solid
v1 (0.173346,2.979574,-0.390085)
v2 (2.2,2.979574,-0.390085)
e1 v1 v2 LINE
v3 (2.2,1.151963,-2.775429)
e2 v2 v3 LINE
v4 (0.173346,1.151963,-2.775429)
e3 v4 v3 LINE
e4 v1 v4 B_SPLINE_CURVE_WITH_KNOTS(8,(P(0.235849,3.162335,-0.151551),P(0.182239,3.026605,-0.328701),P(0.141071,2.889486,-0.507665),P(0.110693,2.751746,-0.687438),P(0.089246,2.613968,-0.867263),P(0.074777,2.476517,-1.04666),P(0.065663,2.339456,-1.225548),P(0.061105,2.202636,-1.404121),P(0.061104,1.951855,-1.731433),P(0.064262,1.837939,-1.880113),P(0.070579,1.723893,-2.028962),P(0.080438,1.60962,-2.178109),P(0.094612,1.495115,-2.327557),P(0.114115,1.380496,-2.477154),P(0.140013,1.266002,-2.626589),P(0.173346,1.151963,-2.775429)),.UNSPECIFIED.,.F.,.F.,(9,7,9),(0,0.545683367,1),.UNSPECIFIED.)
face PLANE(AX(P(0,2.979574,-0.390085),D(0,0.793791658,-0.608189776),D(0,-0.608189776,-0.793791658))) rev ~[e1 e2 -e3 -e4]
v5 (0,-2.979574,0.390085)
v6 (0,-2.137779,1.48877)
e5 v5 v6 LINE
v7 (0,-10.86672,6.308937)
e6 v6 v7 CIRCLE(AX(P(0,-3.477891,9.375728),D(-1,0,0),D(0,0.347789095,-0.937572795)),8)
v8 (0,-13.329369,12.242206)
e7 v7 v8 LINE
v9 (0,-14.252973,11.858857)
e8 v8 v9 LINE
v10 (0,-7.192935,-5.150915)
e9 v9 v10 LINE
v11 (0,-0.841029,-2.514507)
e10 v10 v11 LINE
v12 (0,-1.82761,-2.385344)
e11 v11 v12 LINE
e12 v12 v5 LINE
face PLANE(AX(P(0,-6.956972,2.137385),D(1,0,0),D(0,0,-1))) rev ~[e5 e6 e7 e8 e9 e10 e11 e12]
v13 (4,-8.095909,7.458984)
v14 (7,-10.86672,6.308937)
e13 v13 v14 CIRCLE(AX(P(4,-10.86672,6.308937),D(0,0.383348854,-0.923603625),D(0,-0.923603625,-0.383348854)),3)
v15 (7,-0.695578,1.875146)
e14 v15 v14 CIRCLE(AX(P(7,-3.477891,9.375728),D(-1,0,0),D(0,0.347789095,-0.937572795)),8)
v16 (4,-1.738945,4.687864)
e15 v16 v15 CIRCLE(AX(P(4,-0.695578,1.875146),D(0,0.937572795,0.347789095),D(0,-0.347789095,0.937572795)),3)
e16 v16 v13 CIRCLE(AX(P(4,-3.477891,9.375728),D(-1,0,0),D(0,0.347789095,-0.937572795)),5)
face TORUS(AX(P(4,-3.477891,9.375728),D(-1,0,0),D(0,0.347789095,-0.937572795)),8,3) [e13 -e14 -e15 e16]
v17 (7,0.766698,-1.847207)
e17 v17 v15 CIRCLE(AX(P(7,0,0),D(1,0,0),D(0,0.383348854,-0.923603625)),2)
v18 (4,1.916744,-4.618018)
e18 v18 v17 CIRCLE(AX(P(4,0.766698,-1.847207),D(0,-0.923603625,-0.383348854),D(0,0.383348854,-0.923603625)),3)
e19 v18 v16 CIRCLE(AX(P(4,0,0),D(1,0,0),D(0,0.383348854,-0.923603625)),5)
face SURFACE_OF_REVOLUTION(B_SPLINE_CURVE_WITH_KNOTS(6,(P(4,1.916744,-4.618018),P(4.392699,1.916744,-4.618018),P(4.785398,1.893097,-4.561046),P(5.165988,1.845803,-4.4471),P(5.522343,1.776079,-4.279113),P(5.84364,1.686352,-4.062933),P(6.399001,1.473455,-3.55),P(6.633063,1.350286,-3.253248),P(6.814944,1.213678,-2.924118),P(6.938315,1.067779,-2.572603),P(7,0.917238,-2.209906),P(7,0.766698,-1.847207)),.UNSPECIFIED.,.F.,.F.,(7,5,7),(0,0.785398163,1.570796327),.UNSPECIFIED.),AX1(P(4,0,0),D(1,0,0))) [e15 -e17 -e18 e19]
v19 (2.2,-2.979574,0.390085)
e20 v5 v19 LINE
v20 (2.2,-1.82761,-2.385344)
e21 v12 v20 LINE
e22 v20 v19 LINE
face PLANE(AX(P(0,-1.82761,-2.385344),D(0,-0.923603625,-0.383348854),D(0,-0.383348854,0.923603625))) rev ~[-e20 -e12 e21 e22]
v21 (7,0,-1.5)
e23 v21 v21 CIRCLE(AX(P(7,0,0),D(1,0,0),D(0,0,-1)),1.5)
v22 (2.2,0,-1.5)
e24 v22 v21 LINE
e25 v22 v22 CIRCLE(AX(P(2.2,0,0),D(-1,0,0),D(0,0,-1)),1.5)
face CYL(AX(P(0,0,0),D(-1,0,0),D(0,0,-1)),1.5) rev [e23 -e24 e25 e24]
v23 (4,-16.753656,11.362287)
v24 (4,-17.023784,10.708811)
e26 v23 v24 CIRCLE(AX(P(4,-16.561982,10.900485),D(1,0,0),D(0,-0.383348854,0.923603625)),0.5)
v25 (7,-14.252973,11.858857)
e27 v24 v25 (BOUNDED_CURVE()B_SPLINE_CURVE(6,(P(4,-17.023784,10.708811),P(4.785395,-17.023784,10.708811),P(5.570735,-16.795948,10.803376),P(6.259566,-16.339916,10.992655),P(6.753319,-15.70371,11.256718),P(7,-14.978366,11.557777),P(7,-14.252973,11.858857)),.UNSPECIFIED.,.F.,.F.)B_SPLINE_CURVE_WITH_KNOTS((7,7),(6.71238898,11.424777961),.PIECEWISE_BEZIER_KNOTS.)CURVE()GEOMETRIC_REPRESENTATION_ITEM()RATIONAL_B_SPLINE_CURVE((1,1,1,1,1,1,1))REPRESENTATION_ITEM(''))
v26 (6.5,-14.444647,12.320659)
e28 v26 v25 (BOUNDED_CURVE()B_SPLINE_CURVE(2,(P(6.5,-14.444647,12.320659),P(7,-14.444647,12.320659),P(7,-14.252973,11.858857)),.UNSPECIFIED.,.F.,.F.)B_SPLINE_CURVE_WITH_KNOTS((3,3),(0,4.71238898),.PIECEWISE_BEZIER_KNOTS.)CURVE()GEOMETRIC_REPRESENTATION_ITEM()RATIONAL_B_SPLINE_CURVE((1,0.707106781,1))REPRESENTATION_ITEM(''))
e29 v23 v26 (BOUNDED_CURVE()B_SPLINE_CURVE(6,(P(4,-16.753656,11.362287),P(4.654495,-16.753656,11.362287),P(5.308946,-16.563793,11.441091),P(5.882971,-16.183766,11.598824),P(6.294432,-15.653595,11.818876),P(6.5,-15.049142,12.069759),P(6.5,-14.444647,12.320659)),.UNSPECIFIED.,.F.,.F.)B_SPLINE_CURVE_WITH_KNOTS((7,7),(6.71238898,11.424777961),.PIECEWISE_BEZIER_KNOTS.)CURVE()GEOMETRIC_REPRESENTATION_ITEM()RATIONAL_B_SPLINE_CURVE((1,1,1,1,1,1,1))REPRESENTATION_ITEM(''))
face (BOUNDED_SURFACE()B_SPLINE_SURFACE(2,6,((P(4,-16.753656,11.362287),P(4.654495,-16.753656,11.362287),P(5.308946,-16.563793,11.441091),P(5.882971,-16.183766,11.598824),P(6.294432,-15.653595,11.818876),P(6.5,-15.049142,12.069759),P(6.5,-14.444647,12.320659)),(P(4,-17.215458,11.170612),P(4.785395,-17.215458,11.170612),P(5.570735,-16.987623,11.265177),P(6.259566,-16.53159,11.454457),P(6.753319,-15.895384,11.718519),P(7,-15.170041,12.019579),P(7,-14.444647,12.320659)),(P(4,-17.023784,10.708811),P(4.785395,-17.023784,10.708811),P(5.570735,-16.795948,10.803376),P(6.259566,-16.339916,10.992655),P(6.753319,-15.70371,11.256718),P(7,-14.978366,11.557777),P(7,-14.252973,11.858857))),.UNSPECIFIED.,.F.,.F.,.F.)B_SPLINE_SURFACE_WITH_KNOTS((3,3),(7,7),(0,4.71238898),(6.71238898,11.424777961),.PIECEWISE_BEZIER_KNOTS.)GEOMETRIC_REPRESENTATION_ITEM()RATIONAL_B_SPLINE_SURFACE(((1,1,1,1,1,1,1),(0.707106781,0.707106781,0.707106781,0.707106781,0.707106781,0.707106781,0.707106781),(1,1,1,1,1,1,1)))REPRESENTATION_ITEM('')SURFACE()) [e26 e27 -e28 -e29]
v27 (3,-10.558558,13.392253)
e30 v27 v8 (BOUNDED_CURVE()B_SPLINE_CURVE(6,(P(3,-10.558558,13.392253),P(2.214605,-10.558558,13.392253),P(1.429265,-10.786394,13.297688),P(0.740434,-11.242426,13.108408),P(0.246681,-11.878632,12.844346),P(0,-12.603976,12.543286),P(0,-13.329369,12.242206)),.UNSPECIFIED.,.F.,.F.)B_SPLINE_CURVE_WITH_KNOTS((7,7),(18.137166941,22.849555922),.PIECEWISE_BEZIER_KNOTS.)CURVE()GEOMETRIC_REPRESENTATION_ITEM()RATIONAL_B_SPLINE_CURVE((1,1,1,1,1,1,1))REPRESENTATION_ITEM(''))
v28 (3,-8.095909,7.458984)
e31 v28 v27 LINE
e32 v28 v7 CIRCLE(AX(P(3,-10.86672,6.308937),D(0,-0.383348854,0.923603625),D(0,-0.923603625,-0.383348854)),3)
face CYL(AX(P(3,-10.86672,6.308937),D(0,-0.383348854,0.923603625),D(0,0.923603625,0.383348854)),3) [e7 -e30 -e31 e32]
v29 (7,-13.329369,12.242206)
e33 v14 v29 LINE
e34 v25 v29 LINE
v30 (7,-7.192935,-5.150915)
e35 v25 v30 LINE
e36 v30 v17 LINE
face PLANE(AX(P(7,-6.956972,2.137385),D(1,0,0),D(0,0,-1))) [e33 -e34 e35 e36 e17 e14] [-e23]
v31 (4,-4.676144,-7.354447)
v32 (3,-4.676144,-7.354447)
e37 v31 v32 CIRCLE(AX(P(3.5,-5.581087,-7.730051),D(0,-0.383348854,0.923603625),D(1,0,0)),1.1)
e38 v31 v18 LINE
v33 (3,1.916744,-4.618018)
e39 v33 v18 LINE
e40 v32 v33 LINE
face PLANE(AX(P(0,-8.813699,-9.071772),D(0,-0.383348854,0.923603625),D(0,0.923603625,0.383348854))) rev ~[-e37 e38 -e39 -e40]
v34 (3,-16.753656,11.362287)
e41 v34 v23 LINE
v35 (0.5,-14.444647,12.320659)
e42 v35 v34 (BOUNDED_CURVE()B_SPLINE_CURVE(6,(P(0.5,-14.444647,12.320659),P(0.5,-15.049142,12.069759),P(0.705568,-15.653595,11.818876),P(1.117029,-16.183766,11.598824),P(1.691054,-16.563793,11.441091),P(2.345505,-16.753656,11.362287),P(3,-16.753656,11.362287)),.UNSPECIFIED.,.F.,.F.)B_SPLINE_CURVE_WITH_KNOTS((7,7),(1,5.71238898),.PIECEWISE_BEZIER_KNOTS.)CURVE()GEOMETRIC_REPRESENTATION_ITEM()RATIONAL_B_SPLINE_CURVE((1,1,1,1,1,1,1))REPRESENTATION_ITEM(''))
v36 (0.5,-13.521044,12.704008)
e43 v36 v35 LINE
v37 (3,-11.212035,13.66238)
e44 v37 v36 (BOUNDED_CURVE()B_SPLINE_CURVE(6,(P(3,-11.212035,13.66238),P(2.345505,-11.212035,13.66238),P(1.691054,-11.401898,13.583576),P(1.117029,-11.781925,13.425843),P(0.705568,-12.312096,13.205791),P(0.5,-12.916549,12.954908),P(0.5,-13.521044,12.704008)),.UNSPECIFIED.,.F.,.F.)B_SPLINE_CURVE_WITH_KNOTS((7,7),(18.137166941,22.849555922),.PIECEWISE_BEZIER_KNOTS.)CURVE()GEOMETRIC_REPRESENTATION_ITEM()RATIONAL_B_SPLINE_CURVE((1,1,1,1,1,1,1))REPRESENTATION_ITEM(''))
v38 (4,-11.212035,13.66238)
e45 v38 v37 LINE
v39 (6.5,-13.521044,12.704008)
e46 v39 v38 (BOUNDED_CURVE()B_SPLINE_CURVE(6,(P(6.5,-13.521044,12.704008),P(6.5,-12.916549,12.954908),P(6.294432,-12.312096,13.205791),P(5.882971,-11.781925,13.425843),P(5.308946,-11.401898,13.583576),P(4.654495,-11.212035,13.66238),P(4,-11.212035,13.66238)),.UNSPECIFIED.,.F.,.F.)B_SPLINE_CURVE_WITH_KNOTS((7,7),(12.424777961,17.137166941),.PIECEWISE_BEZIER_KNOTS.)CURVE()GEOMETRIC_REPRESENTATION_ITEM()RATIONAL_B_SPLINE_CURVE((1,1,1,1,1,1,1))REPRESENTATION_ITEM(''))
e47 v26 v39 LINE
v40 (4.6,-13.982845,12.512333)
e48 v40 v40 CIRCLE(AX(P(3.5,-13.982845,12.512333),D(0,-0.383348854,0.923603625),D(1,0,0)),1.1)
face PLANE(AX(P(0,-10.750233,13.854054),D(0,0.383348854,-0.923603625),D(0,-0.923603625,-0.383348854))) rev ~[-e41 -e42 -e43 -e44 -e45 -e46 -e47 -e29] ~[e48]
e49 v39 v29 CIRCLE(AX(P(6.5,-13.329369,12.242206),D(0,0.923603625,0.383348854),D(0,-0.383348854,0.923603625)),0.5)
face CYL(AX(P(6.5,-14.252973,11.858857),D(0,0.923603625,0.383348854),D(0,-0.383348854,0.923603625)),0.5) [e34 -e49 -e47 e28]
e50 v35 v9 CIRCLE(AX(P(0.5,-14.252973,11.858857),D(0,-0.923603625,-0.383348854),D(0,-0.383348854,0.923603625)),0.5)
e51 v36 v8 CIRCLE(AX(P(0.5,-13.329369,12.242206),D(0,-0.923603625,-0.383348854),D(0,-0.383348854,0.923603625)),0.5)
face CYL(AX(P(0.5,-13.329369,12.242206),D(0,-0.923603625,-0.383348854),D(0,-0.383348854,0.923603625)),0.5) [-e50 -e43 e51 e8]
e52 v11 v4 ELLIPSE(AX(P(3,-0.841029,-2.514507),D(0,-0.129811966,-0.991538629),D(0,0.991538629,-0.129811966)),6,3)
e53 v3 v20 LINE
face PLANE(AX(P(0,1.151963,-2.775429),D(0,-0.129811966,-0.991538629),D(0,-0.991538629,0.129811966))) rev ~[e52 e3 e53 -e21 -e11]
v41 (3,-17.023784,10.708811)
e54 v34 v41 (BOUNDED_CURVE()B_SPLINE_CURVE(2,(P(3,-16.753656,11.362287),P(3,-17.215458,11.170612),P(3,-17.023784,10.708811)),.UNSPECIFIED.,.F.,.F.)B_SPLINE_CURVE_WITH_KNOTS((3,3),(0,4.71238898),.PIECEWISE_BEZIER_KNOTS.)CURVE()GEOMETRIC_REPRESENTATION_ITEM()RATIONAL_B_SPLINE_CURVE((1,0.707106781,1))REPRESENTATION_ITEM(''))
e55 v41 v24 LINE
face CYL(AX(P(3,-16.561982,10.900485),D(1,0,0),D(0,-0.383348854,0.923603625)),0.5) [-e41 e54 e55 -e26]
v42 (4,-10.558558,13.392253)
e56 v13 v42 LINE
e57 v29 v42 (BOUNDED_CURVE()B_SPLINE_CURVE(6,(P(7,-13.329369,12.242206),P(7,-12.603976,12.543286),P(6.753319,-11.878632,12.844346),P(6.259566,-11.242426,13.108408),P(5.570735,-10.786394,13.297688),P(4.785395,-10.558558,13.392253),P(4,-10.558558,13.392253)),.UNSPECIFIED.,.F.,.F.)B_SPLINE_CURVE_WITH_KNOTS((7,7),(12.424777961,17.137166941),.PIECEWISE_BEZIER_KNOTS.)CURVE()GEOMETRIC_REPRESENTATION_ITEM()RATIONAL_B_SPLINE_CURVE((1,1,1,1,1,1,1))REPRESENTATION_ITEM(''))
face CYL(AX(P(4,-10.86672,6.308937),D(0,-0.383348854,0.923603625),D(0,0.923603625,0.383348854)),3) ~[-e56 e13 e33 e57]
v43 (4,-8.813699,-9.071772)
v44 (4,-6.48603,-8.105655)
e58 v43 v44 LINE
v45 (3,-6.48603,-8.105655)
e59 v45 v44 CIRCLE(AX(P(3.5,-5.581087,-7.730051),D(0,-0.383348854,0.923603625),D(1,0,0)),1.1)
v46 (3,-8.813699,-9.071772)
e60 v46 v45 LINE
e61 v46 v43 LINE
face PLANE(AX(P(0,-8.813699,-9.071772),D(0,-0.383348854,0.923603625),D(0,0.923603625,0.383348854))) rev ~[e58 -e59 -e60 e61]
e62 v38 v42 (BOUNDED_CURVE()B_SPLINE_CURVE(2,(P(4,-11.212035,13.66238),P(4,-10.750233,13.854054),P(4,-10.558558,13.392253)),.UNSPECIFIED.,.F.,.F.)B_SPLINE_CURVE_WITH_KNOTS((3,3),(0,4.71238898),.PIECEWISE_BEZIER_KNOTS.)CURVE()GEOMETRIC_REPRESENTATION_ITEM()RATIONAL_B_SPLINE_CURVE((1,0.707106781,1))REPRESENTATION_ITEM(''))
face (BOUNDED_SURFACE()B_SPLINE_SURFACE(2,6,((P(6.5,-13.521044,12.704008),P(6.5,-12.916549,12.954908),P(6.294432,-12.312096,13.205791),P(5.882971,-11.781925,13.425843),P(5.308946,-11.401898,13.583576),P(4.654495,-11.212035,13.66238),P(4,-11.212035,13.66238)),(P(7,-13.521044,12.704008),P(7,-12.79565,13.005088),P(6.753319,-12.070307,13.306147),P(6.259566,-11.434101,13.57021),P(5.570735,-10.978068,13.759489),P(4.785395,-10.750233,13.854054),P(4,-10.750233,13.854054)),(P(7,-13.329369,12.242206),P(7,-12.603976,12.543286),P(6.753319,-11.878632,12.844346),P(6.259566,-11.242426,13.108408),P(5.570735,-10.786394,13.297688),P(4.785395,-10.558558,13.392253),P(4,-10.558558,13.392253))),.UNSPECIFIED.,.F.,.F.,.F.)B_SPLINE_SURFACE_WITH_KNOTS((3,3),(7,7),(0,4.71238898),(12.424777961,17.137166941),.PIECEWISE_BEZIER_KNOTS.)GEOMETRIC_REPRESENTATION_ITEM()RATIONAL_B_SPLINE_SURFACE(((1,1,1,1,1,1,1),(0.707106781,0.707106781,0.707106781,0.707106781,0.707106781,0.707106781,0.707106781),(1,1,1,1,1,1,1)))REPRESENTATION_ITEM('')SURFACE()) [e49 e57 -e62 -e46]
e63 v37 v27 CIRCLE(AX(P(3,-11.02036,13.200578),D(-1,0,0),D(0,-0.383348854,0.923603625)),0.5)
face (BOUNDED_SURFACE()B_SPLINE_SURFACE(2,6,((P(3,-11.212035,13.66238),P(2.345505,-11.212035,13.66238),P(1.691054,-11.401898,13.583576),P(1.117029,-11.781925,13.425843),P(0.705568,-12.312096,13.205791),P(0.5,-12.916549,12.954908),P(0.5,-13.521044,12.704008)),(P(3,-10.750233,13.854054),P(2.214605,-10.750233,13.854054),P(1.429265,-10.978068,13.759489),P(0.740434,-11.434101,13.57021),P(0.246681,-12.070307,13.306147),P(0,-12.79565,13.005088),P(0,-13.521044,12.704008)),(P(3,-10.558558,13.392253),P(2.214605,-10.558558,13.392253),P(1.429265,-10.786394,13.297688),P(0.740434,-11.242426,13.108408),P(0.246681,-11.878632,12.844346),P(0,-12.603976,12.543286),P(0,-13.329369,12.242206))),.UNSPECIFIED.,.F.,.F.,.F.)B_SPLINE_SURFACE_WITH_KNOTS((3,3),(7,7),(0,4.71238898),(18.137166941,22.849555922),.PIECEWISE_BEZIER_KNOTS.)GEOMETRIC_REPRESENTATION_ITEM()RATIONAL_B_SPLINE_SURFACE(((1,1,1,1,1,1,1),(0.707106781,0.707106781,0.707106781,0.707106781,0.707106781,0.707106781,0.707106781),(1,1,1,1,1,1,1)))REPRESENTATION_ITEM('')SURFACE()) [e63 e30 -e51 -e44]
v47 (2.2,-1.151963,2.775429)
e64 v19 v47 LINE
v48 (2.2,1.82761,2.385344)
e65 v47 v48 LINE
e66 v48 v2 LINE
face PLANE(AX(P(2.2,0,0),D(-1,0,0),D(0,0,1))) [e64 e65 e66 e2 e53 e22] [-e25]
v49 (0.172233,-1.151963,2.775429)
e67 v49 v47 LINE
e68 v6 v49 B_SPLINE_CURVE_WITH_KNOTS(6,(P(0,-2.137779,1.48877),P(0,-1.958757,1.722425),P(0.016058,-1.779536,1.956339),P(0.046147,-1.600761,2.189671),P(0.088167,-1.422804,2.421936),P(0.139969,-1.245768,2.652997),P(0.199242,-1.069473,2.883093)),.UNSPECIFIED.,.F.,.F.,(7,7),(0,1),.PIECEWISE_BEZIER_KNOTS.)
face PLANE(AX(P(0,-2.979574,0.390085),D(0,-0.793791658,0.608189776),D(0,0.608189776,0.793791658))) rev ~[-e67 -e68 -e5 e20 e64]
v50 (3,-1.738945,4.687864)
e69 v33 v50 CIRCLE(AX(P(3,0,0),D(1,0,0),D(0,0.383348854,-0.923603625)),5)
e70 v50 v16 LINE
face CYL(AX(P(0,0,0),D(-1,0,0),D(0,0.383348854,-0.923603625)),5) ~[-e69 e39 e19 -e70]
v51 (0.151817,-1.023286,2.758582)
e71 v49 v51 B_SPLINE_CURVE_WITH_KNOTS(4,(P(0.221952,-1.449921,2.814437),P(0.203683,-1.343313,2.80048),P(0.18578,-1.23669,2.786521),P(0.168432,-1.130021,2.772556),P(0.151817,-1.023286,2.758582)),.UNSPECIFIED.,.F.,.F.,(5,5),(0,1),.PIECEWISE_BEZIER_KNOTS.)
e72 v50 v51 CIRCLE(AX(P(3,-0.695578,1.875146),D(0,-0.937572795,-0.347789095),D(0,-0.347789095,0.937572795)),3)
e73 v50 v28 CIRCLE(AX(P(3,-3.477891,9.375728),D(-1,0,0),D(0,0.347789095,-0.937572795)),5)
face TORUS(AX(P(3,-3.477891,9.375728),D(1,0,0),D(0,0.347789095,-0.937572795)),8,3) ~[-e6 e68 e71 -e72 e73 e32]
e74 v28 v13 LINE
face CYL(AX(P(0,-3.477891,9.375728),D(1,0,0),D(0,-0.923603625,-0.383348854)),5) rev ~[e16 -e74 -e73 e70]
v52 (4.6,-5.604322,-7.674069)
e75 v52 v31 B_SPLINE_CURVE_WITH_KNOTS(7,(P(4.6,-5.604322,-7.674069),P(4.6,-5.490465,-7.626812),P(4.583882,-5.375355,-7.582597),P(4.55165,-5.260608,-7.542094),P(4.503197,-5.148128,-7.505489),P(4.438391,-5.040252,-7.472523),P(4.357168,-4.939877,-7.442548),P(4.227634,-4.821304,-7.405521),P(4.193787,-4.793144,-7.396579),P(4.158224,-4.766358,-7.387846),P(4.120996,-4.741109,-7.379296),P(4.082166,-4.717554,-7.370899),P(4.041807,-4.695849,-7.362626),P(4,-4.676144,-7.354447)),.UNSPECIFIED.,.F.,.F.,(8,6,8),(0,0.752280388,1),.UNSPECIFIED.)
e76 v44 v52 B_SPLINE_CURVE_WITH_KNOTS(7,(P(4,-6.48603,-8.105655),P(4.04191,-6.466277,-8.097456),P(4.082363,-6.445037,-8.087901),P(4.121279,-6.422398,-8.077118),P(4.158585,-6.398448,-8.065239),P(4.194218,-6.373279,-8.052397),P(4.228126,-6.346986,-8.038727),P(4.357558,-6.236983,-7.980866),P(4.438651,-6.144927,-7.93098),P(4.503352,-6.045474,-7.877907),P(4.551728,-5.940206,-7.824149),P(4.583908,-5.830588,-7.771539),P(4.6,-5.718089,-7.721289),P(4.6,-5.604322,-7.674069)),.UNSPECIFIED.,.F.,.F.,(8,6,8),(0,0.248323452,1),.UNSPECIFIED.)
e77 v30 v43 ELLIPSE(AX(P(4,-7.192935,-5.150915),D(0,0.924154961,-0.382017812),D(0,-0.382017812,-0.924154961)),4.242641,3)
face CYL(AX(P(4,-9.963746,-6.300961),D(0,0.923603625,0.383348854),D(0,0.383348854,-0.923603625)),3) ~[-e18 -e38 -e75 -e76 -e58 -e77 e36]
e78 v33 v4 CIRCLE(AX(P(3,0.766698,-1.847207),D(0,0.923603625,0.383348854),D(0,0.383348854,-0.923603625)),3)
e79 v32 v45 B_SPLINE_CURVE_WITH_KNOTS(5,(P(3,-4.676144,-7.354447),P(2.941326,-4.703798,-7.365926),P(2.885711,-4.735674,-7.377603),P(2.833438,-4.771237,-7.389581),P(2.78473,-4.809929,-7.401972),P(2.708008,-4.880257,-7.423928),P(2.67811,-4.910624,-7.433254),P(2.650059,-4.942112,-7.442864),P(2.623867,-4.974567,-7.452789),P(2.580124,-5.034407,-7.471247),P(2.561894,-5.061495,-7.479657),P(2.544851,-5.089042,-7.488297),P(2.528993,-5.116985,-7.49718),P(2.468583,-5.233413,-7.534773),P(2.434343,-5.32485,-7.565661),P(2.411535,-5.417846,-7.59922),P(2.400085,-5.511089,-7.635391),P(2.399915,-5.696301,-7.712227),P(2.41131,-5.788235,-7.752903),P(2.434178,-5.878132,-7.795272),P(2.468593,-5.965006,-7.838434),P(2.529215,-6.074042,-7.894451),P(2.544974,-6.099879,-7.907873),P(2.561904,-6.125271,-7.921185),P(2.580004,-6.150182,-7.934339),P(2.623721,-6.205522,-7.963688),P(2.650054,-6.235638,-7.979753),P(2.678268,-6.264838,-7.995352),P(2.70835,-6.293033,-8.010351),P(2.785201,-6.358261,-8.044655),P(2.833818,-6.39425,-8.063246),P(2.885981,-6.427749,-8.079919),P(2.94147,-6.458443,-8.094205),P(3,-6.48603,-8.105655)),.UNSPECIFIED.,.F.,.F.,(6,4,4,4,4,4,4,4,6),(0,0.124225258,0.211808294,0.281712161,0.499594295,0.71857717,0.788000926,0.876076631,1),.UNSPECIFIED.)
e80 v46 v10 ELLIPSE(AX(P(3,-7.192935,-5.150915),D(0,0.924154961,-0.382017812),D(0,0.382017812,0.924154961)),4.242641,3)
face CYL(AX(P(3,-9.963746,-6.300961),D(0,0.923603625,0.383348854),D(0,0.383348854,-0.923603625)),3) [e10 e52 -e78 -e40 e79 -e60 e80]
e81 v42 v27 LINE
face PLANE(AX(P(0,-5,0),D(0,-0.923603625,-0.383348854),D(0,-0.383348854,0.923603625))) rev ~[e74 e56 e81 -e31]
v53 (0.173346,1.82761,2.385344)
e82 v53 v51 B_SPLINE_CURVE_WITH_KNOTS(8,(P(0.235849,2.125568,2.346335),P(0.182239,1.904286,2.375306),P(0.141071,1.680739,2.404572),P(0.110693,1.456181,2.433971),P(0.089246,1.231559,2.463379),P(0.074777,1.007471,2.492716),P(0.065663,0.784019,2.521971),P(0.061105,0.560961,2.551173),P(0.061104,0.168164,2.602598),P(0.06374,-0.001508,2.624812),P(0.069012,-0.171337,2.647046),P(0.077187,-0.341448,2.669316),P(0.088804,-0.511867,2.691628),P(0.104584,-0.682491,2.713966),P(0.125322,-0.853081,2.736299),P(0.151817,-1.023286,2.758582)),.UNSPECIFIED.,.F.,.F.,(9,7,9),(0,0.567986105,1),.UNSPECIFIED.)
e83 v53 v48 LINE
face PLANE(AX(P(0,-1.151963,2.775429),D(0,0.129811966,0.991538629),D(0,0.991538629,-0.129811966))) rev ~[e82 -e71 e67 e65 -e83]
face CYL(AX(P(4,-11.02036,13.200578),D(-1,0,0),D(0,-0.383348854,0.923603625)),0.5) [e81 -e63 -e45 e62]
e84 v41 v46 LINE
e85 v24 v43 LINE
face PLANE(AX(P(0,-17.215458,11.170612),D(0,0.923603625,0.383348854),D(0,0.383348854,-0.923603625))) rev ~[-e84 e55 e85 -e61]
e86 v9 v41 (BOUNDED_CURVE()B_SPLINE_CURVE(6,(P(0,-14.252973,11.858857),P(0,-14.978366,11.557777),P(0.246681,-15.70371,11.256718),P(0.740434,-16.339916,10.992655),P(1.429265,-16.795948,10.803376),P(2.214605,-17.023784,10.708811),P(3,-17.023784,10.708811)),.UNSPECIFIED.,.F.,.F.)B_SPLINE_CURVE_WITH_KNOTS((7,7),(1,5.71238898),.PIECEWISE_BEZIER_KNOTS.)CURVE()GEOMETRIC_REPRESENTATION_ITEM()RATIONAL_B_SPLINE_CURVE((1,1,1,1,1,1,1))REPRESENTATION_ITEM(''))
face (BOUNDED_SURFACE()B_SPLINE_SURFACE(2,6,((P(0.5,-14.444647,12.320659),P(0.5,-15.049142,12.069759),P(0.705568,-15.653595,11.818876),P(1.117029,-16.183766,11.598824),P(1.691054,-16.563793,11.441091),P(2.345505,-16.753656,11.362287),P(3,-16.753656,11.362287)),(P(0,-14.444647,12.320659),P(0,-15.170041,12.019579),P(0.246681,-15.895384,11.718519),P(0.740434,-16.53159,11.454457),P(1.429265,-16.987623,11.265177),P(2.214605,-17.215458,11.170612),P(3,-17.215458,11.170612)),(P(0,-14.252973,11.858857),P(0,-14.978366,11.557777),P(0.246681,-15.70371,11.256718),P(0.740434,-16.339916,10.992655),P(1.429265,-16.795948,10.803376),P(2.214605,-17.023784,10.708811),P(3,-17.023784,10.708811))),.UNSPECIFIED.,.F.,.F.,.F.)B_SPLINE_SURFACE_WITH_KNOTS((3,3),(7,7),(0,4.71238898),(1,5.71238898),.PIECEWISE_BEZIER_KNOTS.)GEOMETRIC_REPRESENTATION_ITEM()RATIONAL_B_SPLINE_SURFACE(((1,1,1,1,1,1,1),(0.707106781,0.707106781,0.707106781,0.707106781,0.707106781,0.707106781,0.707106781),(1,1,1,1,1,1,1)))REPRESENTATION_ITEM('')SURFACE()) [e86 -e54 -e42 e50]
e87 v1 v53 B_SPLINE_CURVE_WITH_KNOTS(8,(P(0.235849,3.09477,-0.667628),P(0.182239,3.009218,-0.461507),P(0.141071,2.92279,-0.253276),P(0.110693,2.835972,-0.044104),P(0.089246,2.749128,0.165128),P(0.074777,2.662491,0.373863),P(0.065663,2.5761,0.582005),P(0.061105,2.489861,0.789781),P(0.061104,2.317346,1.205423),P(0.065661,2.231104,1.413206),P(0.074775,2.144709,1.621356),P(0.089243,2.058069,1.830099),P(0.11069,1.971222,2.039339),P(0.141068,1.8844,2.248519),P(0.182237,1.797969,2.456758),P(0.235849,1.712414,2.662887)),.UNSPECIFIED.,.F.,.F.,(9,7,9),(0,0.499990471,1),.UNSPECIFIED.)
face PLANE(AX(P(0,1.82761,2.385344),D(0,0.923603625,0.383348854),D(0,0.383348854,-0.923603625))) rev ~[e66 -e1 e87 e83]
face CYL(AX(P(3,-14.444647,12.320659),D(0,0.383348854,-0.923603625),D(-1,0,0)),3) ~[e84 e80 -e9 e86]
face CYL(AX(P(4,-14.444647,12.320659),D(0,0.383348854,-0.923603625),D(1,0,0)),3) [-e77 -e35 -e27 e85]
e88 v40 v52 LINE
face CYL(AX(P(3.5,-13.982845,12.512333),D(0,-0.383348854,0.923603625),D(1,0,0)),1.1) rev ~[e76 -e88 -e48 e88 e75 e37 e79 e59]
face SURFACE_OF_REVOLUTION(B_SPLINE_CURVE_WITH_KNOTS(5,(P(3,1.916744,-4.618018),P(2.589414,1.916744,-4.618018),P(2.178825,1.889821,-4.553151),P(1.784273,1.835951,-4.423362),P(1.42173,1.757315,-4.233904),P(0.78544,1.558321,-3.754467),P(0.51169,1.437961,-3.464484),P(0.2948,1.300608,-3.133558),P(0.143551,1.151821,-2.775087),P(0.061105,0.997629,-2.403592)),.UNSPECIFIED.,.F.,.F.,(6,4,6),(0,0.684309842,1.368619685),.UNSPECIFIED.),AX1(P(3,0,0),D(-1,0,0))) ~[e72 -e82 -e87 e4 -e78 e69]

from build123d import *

# Parameters (mm, degrees)
SKETCH1_R           = 1.5
BOSS_EXTRUDE1_DEPTH = 7
FILLET1_R           = 5
FILLET2_R           = 3
SKETCH2_R           = 1.1
CUT_EXTRUDE1_DEPTH  = 28.212210096
CUT_EXTRUDE2_DEPTH  = 2.2
FILLET3_R           = 0.5


with BuildPart() as part:
    # Sketch1 → Boss-Extrude1 (new body)
    with BuildSketch(Plane(origin=(0, 0, 0), x_dir=(0, 0, -1), z_dir=(1, 0, 0))):
        with BuildLine():
            Line((0, -5), (-13.854054376, -10.750232807))
            Line((-13.854054376, -10.750232807), (-11.1706124, -17.215458183))
            Line((-11.1706124, -17.215458183), (9.071772057, -8.813699388))
            Line((9.071772057, -8.813699388), (4.618018125, 1.916744269))
            ThreePointArc((4.618018125, 1.916744269), (-4.158348311, 2.776353603), (0, -5))
        make_face()
        Circle(SKETCH1_R, mode=Mode.SUBTRACT)
    extrude(amount=BOSS_EXTRUDE1_DEPTH)

    # Fillet1
    fillet1_edges = [part.edges().sort_by_distance(p)[0] for p in [
        (3.5, -5, 0),
    ]]
    fillet(fillet1_edges, radius=FILLET1_R)

    # Fillet2
    fillet2_edges = [part.edges().sort_by_distance(p)[0] for p in [
        (7, -13.014578785, 1.049420171),
        (0, -9.423070941, 10.656519028),
        (7, -9.423070941, 10.656519028),
        (7, -3.44847756, -6.844895091),
        (0, -5.475900192, 4.79228393),
        (7, -5.475900192, 4.79228393),
        (7, 4.653790231, 1.828178461),
        (0, -3.44847756, -6.844895091),
        (0, -13.014578785, 1.049420171),
        (0, 4.653790231, 1.828178461),
    ]]
    fillet(fillet2_edges, radius=FILLET2_R)

    # Sketch2 → Cut-Extrude1 (cut, through all)
    with BuildSketch(Plane(origin=(0, -6.485014526, 15.624366332), x_dir=(1, 0, 0), z_dir=(0, -0.383348854, 0.923603625))):
        with Locations((3.5, -8.118018125)):
            Circle(SKETCH2_R)
    extrude(amount=-CUT_EXTRUDE1_DEPTH, mode=Mode.SUBTRACT)

    # Sketch3 → Cut-Extrude2 (cut)
    with BuildSketch(Plane.ZY):
        Polygon((2.385343934, 1.827610275), (-0.39008496, 2.979573581), (-2.775428893, 1.151963306), (-2.385343934, -1.827610275), (0.39008496, -2.979573581), (2.775428893, -1.151963306), align=None)
    extrude(amount=-CUT_EXTRUDE2_DEPTH, mode=Mode.SUBTRACT)

    # Fillet3
    fillet3_edges = [part.edges().sort_by_distance(p)[0] for p in [
        (0, -13.982845495, 12.512333388),
        (7, -13.982845495, 12.512333388),
        (3.5, -10.750232807, 13.854054376),
        (3.5, -17.215458183, 11.1706124),
        (6.121320344, -16.403906467, 11.507453239),
        (6.121320344, -11.561784523, 13.517213537),
        (0.878679656, -16.403906467, 11.507453239),
        (0.878679656, -11.561784523, 13.517213537),
    ]]
    fillet(fillet3_edges, radius=FILLET3_R)


solid = part.part
